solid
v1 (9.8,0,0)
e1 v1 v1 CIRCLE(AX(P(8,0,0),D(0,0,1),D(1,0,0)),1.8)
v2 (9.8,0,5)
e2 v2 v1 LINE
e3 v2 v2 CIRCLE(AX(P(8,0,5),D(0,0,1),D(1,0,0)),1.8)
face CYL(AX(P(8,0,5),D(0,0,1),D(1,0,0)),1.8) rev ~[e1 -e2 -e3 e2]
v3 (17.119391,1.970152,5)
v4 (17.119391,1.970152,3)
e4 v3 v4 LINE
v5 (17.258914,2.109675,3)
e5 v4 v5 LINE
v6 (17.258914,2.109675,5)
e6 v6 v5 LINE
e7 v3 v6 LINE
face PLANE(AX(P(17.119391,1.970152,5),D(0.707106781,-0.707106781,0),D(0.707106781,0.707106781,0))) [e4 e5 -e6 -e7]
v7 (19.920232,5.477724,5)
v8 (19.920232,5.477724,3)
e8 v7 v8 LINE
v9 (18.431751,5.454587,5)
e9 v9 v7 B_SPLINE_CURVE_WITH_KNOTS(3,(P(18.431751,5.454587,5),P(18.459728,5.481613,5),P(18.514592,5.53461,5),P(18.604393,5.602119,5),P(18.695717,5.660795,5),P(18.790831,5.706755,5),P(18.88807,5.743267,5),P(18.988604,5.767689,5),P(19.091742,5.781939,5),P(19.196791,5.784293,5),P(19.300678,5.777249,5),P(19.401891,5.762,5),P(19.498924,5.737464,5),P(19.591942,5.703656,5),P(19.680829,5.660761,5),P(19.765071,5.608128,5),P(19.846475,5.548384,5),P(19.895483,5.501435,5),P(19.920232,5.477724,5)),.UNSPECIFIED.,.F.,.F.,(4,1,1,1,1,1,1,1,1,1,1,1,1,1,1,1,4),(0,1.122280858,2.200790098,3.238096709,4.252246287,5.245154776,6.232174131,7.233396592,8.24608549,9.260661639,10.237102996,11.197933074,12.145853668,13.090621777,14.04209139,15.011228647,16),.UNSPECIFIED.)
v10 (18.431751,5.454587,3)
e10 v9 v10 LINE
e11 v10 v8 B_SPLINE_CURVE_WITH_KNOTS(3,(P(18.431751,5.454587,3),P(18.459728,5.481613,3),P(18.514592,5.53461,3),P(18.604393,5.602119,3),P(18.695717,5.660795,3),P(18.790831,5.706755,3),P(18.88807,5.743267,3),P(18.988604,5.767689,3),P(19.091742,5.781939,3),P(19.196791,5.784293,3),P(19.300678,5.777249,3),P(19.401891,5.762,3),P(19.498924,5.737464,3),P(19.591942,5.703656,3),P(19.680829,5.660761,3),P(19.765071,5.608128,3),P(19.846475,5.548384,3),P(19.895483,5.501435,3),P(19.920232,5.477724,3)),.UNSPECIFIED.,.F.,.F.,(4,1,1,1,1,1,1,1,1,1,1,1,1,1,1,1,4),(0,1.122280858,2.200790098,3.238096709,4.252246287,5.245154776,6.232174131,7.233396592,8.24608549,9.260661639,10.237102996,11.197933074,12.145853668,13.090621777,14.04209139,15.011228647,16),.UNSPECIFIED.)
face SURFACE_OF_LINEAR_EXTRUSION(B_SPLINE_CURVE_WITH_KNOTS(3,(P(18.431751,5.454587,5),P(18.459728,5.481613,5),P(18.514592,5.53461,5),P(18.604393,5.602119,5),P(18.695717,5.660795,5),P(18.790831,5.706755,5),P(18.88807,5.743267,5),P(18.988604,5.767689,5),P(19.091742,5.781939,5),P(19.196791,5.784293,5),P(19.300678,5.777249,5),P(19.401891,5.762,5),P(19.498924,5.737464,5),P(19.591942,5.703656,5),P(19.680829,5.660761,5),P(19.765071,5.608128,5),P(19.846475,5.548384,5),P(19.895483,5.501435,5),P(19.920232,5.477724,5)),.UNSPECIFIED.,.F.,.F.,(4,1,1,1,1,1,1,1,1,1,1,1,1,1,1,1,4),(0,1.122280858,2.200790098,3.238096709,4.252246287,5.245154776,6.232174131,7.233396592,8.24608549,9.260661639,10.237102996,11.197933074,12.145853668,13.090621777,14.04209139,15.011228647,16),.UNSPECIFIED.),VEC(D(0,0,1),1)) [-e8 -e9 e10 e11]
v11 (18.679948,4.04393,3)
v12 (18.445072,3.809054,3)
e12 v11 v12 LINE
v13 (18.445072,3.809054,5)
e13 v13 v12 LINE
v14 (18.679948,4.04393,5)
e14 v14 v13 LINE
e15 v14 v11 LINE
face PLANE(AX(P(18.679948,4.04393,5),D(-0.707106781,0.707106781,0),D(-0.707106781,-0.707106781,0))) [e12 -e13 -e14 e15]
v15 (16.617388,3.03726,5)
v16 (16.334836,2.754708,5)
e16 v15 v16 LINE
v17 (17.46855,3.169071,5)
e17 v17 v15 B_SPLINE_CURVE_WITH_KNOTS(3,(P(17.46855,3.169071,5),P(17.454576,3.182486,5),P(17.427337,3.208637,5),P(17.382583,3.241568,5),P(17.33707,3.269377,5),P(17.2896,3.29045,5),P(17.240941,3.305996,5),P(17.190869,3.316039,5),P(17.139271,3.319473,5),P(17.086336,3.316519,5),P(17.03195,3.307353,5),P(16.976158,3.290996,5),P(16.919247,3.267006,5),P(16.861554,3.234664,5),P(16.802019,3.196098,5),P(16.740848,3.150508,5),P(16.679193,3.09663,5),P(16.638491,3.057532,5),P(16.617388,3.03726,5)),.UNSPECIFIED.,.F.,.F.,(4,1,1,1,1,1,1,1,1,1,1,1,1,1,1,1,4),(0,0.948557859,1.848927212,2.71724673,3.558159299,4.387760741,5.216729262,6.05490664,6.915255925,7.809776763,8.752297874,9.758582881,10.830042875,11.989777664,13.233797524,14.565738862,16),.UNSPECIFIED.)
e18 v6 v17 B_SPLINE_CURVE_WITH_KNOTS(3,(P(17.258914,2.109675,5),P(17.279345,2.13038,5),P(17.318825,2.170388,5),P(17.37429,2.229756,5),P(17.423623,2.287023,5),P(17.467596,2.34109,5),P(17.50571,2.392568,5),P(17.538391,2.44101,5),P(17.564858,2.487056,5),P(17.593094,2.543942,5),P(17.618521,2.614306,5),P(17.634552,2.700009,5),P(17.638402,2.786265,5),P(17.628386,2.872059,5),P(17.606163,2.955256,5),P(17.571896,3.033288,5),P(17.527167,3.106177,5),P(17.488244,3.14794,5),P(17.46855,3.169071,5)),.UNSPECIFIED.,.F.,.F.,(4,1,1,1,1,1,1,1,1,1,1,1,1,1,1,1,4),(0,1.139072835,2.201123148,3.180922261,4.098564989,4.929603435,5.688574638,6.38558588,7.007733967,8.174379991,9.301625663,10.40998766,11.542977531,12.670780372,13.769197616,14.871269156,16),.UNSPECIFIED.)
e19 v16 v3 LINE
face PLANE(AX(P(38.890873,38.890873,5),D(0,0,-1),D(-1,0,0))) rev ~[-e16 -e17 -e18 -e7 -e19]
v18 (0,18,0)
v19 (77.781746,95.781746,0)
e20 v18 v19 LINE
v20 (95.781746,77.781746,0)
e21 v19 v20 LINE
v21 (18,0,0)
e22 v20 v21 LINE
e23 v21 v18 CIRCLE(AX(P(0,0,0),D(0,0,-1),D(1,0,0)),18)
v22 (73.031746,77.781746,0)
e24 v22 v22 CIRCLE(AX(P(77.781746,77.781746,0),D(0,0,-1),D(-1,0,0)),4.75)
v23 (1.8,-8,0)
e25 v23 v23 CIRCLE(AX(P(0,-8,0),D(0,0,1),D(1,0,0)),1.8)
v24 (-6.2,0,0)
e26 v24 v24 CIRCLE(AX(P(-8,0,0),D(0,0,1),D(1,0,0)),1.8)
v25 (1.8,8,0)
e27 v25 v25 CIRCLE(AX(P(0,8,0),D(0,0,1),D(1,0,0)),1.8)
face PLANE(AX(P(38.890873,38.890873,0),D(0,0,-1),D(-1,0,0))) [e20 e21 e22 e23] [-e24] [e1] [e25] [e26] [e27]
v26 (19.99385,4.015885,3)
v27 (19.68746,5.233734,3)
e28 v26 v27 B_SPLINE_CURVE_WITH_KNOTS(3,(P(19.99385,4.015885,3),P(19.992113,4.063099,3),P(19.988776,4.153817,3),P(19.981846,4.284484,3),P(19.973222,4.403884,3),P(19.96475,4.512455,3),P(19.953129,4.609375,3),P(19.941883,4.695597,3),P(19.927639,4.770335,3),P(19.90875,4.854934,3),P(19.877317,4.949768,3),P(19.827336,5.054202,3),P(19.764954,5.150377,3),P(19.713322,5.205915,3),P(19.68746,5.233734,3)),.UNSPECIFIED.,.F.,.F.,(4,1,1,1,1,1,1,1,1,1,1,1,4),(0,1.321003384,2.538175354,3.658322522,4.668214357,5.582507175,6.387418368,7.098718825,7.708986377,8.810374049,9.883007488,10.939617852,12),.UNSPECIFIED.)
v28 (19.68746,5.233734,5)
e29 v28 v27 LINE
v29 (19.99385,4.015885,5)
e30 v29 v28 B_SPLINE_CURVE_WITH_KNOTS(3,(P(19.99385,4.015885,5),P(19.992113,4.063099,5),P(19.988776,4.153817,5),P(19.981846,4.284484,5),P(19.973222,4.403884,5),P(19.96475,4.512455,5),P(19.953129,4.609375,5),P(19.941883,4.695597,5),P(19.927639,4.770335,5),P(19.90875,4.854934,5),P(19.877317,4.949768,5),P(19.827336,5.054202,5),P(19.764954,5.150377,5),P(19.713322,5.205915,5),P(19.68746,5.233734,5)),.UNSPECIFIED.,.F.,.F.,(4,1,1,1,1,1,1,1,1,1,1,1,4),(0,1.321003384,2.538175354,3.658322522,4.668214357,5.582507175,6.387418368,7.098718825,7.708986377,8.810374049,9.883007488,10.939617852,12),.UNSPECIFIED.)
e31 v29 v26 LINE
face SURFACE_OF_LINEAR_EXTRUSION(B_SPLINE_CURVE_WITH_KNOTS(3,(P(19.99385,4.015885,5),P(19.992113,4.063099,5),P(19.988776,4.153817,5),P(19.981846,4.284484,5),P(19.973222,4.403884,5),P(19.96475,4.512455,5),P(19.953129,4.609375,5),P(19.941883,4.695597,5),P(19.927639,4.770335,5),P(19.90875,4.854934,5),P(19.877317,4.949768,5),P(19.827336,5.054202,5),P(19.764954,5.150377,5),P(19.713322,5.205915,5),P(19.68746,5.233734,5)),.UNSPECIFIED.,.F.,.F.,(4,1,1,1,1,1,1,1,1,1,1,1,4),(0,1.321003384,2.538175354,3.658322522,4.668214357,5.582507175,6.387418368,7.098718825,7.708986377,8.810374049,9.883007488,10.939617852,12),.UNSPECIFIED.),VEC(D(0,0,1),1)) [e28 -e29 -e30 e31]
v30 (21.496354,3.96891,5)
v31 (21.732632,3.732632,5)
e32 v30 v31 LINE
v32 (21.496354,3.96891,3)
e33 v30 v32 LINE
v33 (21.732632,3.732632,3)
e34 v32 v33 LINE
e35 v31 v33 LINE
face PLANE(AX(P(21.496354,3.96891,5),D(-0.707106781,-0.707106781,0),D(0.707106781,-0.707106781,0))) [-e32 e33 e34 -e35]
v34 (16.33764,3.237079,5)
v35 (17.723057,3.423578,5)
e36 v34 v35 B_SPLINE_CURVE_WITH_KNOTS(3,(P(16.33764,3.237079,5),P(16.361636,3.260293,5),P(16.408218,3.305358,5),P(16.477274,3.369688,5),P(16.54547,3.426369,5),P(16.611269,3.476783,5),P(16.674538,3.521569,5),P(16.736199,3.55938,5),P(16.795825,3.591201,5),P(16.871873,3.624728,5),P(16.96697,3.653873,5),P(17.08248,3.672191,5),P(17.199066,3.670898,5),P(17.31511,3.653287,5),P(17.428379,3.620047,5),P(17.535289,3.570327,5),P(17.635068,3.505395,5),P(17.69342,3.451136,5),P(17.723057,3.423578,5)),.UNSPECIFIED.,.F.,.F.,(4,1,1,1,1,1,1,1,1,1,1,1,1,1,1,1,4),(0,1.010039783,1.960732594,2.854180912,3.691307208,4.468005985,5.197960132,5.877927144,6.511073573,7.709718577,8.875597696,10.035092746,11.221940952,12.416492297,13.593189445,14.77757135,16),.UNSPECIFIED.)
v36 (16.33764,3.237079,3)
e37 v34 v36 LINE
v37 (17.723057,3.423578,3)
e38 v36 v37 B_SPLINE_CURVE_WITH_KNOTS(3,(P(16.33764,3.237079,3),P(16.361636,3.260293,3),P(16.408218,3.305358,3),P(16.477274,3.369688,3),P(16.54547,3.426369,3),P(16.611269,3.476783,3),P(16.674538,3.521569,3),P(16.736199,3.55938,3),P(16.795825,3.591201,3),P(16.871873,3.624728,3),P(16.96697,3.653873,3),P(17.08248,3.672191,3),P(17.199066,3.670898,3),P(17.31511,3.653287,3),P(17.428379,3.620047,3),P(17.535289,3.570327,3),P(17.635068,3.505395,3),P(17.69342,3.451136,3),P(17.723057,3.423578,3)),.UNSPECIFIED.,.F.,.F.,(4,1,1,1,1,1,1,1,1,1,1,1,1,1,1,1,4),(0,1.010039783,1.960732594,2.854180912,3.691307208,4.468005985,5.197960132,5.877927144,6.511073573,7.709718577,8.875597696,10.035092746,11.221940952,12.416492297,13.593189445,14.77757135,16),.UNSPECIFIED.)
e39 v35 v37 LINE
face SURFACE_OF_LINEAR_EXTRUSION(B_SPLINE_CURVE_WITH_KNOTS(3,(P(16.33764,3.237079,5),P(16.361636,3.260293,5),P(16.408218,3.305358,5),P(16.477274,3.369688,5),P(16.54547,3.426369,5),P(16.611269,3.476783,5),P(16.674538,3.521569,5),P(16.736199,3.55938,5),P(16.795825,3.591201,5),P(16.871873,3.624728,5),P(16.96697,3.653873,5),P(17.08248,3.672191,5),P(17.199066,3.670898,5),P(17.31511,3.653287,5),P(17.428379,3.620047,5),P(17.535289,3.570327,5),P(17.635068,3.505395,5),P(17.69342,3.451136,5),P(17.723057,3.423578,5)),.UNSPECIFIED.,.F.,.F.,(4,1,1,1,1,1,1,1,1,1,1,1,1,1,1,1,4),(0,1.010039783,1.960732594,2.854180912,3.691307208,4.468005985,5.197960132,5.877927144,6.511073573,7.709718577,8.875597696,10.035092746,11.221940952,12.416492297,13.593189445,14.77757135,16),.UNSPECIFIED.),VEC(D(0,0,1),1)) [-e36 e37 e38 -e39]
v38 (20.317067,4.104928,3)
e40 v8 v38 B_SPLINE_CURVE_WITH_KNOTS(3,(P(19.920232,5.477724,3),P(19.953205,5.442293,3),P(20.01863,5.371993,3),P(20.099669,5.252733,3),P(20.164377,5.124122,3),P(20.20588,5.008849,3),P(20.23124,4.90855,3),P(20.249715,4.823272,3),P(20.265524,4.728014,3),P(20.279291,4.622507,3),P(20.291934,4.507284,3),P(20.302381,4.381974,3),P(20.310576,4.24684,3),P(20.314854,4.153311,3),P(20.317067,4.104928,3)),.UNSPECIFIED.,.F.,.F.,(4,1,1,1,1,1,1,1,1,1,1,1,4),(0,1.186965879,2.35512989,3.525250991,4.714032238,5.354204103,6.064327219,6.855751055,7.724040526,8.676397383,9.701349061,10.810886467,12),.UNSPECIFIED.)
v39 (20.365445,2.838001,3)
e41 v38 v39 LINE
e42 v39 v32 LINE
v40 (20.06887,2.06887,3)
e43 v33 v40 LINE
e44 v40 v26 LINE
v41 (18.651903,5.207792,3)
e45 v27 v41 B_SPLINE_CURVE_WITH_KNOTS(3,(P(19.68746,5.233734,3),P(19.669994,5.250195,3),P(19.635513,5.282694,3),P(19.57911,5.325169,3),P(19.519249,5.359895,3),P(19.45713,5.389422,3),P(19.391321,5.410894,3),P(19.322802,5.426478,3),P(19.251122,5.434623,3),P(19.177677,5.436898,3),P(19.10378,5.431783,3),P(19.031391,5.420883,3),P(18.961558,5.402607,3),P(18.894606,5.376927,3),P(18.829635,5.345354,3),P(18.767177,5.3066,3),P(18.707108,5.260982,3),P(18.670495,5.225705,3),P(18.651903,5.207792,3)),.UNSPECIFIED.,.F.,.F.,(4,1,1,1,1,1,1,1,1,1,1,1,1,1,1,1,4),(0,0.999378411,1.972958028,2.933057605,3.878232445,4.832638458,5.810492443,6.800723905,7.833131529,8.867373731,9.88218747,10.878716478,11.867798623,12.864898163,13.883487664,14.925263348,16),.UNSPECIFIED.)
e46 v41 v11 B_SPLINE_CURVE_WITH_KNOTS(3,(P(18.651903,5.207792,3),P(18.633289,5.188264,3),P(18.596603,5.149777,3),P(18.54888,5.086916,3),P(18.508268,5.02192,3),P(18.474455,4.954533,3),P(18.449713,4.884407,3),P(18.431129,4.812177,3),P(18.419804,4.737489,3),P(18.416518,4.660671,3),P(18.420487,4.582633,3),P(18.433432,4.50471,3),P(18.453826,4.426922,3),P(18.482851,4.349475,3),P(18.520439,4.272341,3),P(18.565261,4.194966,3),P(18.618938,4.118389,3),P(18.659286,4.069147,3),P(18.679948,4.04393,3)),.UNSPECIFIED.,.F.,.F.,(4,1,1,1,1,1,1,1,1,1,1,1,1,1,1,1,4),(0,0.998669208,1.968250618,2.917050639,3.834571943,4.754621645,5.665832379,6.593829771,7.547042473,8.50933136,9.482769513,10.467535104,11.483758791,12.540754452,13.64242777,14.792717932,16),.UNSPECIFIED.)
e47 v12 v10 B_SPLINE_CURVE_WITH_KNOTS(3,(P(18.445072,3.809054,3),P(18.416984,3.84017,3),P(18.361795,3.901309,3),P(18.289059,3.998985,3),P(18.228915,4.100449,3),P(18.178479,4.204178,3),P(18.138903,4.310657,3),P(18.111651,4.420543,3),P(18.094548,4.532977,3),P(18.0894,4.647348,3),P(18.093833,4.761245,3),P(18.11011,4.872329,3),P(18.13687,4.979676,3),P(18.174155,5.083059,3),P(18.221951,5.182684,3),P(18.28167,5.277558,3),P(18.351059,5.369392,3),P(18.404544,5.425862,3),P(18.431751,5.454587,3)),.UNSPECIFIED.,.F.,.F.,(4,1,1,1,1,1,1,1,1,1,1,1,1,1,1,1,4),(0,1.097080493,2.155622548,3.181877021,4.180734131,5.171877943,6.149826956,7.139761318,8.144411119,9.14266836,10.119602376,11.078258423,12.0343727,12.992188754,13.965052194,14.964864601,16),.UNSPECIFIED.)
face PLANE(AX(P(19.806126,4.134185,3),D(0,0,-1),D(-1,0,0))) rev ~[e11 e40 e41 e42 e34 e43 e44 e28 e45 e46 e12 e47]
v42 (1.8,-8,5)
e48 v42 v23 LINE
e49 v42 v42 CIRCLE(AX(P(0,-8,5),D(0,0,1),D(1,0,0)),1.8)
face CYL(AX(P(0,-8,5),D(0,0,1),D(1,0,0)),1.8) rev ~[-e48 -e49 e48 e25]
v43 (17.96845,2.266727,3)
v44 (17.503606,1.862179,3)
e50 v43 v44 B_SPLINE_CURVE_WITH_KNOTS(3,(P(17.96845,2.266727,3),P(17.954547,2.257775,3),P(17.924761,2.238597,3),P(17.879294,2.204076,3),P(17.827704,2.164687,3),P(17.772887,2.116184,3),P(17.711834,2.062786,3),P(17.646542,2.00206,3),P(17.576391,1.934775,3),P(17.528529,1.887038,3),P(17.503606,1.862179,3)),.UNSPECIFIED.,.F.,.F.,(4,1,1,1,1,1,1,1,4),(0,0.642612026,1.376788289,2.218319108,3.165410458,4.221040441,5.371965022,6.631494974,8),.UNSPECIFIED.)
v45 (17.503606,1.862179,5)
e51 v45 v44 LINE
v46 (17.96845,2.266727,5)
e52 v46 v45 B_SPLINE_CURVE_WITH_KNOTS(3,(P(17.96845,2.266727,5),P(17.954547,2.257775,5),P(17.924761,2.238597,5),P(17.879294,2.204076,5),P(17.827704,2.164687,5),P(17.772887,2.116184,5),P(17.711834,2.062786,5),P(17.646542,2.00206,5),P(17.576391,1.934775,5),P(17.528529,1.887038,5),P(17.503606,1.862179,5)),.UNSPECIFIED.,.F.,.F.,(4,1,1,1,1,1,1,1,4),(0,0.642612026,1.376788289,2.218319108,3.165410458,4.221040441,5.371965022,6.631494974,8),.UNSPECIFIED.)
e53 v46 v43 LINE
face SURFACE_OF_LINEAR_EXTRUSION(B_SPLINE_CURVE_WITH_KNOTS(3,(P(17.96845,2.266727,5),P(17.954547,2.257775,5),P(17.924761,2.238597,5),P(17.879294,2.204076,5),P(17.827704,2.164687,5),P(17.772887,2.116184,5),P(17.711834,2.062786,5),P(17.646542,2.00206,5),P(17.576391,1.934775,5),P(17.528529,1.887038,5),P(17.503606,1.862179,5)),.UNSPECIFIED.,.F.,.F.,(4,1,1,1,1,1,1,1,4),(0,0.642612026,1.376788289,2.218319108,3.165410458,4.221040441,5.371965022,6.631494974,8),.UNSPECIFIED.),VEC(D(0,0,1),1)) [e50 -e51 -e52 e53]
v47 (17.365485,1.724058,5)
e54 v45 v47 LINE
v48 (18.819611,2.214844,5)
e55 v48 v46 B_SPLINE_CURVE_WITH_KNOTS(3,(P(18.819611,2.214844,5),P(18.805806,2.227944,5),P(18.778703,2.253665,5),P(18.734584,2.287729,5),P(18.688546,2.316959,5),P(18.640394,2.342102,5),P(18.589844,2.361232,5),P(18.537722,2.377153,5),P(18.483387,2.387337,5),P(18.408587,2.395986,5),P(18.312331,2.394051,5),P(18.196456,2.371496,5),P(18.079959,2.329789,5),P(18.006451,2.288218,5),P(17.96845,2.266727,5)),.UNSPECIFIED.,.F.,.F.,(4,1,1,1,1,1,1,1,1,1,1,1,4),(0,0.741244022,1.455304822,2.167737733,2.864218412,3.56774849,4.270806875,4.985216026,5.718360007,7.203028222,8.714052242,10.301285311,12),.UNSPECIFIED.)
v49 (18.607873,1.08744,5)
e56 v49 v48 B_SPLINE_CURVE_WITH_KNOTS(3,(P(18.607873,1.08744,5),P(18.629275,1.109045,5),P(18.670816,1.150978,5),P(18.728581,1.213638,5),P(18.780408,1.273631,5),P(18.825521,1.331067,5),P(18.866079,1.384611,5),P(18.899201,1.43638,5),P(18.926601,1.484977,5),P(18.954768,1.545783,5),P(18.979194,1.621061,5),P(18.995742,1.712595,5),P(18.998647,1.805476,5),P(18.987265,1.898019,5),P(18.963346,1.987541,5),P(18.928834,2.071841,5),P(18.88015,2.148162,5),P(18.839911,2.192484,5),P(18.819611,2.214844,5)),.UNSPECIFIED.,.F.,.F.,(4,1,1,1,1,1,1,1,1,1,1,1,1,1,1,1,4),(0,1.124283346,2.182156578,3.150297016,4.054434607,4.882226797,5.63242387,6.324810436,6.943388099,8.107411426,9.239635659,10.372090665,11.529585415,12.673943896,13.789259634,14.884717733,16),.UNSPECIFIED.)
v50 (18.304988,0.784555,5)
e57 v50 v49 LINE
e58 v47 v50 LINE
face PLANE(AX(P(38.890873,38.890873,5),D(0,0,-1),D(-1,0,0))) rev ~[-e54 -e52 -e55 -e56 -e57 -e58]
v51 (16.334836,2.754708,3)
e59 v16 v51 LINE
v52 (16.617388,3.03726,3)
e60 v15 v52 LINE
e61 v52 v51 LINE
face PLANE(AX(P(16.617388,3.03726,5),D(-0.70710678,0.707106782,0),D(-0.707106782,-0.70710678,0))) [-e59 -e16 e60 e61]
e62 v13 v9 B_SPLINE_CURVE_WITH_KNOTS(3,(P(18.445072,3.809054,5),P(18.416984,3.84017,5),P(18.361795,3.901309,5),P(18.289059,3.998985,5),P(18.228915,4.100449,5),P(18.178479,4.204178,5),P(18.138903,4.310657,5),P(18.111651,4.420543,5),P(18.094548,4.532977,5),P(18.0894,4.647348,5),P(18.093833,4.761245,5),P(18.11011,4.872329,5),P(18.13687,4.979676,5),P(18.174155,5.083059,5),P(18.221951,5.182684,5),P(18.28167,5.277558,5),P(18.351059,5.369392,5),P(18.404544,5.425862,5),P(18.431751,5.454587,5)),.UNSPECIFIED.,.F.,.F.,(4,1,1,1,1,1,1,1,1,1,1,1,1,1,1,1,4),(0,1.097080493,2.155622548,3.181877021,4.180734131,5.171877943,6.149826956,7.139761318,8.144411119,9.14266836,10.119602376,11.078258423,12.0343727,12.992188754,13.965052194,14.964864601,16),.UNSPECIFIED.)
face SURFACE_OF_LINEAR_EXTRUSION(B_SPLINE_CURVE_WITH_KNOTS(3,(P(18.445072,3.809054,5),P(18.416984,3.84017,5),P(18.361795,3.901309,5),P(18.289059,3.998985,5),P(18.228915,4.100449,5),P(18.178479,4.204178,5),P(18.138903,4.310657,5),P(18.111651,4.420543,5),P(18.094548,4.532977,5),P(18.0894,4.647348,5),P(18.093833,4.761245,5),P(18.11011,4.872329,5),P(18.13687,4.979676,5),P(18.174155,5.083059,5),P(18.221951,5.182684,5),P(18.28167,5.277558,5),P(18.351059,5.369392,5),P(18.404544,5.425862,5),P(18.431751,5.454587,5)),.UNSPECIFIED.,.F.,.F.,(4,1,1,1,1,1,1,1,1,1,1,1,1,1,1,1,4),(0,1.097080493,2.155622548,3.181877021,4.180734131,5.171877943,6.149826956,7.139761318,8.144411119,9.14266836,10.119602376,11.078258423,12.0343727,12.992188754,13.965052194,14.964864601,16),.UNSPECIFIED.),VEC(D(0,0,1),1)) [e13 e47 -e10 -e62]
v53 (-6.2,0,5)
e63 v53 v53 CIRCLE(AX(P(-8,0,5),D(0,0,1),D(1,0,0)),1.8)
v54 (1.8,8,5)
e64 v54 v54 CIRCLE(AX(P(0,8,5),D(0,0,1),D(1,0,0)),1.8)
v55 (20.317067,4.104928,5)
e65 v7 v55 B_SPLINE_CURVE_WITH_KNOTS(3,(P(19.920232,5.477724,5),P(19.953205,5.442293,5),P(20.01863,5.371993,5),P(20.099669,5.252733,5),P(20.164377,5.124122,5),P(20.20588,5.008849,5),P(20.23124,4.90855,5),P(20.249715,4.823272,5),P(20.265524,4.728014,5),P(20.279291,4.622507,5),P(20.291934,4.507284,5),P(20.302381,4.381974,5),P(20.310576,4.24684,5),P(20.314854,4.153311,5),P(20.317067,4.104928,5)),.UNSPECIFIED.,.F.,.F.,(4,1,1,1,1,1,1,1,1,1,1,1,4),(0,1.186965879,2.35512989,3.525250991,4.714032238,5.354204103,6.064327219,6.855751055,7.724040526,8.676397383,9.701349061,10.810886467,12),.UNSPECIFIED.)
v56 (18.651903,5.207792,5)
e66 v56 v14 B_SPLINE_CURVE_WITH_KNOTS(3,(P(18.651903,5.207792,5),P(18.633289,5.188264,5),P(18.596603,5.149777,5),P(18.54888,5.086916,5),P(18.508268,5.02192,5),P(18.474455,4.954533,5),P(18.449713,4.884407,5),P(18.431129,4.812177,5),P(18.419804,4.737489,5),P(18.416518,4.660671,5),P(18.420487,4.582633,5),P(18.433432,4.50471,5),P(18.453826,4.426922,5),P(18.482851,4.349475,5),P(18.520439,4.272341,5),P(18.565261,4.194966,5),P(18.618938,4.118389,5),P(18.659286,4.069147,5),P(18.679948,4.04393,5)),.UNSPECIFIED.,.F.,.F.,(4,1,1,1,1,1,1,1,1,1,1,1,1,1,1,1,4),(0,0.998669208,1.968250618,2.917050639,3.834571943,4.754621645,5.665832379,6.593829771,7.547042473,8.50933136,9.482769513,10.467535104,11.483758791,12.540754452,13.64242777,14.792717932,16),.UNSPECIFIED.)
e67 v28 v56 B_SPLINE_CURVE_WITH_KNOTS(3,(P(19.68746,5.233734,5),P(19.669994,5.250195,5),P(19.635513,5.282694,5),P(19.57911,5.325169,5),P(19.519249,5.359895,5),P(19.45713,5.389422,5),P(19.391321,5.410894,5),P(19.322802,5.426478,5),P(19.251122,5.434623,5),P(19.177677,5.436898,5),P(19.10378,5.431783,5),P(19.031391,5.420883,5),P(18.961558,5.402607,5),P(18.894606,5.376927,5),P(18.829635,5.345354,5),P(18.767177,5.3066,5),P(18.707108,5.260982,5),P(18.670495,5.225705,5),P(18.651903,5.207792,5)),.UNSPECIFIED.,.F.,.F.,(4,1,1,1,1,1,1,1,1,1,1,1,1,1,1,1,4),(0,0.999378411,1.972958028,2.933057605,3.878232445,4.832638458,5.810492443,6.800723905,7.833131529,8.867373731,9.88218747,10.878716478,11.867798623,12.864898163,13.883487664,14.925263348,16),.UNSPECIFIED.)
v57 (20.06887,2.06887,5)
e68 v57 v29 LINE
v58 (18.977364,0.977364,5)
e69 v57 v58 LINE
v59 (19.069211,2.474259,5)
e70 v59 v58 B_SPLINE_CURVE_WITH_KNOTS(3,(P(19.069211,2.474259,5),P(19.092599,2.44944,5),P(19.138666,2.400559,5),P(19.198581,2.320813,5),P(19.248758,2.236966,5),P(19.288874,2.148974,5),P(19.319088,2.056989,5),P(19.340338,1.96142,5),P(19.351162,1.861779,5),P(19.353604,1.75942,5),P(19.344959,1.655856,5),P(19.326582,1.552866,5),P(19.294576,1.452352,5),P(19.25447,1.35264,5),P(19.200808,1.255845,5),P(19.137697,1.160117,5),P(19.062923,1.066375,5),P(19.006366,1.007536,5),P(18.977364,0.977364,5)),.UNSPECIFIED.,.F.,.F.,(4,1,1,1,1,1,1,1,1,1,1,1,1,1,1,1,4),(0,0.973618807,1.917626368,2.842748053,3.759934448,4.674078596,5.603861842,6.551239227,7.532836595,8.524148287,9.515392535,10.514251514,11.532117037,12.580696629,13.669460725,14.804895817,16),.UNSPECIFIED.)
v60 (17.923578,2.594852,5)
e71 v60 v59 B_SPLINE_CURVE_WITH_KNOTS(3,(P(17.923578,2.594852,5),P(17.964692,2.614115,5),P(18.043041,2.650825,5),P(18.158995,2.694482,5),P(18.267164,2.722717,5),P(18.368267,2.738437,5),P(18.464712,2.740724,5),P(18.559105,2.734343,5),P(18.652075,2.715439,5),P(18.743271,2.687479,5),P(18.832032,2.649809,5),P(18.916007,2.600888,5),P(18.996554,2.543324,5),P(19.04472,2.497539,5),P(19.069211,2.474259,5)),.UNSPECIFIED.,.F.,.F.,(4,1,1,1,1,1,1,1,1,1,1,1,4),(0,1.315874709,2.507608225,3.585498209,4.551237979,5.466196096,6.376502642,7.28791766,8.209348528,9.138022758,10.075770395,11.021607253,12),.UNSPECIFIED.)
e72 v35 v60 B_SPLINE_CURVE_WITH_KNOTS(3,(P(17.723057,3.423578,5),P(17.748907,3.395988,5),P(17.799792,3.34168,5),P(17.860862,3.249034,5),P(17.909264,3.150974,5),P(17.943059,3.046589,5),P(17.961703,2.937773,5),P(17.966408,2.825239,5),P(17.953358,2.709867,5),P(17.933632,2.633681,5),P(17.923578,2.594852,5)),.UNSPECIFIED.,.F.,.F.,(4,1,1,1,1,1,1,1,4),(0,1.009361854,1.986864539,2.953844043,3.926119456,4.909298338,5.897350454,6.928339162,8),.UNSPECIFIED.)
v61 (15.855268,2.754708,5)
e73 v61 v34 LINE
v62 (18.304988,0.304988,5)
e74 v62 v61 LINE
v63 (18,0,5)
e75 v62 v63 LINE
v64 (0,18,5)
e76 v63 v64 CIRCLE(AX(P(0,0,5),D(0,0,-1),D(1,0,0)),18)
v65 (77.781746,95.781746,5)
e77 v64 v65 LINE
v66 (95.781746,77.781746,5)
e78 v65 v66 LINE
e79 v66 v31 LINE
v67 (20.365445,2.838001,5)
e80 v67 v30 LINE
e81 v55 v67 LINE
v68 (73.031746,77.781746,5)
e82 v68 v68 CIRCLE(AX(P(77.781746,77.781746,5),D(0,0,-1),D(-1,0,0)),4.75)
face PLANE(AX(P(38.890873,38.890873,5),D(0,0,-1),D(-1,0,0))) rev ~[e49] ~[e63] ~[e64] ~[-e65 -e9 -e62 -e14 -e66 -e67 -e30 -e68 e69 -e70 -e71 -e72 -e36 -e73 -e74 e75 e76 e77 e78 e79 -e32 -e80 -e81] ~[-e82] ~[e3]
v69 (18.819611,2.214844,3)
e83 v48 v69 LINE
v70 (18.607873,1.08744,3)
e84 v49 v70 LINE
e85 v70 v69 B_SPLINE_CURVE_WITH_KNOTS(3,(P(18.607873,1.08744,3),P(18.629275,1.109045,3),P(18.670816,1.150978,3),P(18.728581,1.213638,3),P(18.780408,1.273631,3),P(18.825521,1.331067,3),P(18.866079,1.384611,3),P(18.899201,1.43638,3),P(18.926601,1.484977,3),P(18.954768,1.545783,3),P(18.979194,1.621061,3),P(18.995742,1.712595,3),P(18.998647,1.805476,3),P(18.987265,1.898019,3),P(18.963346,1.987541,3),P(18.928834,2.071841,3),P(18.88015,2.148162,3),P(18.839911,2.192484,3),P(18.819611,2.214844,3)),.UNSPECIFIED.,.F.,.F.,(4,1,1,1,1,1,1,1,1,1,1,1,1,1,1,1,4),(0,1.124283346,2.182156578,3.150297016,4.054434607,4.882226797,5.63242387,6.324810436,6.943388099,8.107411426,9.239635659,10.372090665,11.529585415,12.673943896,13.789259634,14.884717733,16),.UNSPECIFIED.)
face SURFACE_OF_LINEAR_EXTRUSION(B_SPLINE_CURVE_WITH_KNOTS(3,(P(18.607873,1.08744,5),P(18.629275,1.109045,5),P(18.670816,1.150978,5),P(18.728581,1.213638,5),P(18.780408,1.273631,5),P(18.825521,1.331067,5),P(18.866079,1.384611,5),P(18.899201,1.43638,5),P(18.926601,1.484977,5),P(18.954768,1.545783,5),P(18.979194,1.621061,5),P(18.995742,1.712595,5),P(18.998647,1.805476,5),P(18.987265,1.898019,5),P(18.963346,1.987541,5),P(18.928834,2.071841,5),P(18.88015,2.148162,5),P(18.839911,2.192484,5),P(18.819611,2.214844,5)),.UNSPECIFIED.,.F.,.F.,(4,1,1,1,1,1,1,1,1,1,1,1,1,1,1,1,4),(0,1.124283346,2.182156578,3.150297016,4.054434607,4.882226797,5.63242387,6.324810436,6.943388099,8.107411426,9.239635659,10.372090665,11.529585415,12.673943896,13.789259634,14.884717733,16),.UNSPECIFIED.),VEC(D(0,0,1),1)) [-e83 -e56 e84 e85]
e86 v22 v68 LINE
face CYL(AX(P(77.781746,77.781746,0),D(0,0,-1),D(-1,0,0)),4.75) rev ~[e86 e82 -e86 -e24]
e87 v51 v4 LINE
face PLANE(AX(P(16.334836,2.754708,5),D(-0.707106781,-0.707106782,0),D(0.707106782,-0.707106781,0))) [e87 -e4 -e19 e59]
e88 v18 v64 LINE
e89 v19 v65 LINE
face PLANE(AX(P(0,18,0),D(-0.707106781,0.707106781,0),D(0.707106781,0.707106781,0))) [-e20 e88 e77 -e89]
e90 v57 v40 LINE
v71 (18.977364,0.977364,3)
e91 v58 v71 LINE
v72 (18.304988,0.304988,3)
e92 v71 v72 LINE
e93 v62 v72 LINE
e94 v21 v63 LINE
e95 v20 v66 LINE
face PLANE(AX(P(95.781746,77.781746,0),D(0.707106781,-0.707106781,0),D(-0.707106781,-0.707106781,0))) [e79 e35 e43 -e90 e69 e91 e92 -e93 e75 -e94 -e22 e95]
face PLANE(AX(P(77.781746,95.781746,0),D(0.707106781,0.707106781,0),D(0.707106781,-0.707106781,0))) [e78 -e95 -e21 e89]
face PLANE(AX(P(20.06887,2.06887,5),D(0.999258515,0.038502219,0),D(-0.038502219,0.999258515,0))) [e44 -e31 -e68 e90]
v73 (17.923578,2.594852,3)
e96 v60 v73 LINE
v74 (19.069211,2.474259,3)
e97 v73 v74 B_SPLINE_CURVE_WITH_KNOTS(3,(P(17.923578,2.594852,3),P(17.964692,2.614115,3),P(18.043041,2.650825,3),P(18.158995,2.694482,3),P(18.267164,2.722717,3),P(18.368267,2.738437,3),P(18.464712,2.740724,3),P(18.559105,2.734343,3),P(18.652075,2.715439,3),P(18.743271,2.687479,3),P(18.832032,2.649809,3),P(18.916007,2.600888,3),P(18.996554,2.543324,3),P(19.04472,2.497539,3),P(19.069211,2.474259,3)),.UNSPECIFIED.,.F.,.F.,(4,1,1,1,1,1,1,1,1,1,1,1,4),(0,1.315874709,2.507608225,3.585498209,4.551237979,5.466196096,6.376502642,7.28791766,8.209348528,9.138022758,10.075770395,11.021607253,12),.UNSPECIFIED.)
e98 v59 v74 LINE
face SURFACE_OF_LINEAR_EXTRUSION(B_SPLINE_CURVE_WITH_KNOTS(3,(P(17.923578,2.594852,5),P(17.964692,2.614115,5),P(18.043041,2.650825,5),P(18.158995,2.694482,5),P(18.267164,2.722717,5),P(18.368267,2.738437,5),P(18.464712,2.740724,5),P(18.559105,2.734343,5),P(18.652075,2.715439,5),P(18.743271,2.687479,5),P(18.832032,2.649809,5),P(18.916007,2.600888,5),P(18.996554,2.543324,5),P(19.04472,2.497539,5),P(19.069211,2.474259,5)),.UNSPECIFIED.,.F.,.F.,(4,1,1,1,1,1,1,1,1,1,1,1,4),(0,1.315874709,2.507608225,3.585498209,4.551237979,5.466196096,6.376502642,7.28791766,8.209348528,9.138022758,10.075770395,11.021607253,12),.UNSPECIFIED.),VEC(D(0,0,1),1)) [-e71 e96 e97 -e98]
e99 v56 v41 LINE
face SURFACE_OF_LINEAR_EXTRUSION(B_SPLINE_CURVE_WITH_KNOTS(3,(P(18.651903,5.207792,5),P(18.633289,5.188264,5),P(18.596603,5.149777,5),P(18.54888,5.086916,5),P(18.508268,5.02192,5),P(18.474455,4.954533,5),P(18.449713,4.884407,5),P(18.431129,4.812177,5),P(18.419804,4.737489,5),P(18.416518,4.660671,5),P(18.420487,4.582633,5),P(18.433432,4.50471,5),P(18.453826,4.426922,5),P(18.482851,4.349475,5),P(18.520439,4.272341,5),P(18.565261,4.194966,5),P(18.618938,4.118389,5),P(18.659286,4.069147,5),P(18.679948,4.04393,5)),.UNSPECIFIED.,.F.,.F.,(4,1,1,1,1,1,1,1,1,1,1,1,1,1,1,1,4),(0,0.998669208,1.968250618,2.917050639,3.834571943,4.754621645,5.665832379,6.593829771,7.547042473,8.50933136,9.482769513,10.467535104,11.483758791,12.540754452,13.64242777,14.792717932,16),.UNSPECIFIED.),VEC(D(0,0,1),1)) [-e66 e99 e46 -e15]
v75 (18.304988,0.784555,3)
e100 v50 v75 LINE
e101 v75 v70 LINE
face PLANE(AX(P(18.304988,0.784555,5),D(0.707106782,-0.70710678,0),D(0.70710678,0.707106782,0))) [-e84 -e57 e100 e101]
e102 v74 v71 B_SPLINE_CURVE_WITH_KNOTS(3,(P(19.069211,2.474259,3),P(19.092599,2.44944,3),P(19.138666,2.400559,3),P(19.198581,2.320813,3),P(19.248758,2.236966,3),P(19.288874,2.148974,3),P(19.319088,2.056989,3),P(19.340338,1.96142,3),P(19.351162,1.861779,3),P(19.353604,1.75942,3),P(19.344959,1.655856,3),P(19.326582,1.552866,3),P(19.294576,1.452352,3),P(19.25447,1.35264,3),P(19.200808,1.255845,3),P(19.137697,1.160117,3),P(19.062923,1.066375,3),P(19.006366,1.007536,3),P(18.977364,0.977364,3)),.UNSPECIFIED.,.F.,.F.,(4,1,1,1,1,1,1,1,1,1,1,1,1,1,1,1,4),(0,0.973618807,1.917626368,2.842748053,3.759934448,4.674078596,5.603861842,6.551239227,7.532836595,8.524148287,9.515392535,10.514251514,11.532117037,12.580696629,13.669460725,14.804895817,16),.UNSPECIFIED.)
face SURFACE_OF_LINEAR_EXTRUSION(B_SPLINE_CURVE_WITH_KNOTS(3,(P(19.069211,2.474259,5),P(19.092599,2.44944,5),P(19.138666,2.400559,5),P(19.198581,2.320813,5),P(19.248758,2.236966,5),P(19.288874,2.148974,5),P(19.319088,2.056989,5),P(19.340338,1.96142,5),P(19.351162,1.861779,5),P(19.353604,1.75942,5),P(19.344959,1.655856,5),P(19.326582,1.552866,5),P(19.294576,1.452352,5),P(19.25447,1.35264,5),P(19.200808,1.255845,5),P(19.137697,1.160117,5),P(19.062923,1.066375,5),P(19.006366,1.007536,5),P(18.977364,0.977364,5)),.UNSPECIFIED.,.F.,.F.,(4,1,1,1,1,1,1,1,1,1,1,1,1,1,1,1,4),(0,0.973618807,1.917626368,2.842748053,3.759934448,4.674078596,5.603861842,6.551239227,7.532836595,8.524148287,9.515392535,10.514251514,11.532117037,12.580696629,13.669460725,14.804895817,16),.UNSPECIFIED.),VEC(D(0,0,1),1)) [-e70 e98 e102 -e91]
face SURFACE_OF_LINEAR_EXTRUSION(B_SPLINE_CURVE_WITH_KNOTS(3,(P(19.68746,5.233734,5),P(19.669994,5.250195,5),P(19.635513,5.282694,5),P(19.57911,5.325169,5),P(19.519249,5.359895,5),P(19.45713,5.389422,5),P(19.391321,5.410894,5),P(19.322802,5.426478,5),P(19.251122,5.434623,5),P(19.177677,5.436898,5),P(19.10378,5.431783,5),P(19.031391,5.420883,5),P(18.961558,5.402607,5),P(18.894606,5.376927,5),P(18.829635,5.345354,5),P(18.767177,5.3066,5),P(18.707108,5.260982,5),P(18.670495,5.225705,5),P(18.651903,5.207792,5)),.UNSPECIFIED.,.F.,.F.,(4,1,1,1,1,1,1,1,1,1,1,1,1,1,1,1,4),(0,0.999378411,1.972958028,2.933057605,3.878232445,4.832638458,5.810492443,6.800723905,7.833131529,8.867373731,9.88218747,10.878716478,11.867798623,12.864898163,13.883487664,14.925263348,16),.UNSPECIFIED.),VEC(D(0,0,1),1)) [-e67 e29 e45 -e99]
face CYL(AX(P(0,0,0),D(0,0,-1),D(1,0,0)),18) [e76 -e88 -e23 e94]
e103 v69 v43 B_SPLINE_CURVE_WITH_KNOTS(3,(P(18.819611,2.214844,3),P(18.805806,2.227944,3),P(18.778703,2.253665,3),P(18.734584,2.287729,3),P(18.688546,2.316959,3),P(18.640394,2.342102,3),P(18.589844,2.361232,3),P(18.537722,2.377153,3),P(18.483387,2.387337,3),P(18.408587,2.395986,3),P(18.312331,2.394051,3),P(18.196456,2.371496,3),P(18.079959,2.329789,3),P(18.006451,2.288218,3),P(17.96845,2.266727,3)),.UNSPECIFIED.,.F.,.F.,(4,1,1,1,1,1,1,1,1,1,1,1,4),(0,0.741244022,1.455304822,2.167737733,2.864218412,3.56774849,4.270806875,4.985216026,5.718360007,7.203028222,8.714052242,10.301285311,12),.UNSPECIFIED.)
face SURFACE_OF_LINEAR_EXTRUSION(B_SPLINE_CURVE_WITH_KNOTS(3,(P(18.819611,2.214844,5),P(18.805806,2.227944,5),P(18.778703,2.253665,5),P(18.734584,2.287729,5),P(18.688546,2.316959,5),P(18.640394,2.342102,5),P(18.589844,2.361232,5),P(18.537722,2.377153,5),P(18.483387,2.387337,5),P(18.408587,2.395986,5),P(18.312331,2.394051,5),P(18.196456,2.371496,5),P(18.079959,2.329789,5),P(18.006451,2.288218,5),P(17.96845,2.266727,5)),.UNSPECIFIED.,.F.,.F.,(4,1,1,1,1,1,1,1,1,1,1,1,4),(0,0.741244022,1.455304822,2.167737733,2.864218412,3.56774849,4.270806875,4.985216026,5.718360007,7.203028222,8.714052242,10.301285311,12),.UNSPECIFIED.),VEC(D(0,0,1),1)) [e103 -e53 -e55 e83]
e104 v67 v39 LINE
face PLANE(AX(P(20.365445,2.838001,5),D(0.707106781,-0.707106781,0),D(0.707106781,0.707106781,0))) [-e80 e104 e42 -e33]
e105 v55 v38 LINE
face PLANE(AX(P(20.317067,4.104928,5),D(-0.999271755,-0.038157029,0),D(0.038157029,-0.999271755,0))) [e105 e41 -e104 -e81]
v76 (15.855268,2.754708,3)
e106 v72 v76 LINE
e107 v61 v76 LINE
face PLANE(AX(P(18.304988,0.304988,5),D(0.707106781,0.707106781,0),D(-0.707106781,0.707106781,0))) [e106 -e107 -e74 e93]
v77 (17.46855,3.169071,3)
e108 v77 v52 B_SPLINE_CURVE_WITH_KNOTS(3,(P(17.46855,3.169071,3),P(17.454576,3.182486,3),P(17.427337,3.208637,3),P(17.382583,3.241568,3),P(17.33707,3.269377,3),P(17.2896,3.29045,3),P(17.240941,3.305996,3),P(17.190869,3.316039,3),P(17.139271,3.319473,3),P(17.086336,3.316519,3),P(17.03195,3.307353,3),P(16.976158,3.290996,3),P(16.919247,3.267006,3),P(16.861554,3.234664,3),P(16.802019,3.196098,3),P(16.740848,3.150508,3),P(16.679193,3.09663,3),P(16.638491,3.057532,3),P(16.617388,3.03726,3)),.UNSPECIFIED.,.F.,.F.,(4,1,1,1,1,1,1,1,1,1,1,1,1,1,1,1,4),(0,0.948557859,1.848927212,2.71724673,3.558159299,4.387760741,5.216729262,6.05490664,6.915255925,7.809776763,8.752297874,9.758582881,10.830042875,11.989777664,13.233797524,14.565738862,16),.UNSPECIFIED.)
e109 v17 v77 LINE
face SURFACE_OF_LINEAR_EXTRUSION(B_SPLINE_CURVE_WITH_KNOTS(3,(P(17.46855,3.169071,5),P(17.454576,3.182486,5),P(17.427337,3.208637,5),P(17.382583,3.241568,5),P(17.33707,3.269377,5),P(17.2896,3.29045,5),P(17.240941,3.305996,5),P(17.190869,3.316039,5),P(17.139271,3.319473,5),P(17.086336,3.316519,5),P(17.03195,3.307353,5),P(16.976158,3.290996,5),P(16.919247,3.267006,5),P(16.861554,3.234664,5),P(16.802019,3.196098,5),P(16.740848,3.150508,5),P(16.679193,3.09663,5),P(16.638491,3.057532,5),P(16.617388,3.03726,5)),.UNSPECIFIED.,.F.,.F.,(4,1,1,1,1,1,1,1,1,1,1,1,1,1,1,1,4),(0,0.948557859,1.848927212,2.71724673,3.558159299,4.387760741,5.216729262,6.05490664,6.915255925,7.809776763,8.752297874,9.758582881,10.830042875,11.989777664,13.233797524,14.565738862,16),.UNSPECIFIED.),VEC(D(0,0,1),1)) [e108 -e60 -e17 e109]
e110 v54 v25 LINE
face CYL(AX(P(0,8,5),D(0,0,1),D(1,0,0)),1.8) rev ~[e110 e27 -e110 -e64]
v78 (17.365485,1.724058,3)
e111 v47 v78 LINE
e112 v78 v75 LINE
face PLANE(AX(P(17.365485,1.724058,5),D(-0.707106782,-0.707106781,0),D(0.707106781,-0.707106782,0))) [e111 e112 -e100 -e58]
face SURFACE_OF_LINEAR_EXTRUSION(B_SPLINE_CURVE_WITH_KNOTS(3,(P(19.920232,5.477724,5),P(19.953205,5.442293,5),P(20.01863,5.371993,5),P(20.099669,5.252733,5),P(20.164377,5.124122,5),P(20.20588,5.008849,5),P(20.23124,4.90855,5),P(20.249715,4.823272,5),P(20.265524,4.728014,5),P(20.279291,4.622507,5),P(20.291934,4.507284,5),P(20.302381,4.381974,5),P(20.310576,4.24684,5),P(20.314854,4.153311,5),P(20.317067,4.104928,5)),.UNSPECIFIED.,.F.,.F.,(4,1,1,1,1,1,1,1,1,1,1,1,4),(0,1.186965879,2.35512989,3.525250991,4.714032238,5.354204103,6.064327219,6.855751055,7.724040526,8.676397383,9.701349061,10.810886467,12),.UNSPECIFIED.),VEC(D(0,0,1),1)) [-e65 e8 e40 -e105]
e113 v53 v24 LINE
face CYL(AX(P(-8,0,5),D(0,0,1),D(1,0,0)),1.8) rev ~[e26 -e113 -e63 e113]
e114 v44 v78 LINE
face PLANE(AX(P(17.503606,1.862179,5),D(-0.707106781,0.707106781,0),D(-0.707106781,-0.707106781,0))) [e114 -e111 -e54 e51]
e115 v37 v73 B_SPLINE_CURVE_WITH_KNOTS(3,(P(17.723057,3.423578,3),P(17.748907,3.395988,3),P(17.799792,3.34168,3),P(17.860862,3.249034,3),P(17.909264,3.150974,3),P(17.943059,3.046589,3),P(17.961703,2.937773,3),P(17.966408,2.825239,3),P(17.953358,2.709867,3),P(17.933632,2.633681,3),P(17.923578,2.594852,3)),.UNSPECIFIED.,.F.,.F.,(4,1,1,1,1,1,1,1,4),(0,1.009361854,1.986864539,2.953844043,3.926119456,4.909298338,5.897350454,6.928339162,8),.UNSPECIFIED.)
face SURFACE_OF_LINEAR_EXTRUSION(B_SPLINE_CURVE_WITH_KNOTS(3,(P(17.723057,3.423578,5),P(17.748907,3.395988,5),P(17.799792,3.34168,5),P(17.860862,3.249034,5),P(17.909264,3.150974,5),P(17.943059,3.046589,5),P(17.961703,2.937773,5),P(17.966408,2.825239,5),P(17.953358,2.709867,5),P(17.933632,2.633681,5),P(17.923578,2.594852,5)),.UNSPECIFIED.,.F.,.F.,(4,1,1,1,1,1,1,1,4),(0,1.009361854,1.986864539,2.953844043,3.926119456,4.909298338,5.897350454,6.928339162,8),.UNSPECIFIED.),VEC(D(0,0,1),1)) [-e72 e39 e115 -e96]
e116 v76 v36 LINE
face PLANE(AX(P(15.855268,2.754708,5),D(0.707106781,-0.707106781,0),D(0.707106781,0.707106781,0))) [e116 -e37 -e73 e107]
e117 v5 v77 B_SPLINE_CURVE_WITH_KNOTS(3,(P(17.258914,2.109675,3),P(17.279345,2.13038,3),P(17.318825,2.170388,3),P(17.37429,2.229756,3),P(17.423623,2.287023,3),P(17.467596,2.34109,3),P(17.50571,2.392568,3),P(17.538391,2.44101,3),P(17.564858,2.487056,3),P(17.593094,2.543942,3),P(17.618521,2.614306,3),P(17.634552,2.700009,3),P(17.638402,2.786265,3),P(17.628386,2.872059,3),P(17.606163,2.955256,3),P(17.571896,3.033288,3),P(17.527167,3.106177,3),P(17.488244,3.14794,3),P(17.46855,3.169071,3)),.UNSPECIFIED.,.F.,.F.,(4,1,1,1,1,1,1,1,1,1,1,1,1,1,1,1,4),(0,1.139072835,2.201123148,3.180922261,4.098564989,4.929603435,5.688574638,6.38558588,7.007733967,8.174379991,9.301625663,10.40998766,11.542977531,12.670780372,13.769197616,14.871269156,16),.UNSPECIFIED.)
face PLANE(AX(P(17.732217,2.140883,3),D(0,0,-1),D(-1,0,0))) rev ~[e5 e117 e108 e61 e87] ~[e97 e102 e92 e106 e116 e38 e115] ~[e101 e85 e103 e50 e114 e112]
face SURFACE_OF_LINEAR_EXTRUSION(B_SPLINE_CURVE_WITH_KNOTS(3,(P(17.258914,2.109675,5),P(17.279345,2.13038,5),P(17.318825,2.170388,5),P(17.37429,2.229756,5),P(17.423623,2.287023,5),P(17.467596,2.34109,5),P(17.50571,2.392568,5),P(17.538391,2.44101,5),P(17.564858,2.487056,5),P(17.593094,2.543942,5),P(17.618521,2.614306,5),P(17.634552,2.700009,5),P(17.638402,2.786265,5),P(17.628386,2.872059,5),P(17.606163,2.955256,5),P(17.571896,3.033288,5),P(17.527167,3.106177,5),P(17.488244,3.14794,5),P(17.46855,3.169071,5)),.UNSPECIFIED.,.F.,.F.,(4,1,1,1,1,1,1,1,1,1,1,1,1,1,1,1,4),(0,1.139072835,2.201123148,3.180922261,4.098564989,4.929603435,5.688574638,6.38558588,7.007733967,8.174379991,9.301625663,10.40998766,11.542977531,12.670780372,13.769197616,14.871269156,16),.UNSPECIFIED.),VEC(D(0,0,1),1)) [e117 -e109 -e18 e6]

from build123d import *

# Parameters (mm, degrees)
EXTRUDE_1_DEPTH     = 5
SKETCH_3_R          = 1.8
CUT_EXTRUDE_1_DEPTH = 5
SKETCH_17_R         = 4.75
CUT_EXTRUDE_3_DEPTH = 10
CUT_EXTRUDE_4_DEPTH = 2


with BuildPart() as part:
    # ｽｹｯﾁ2 → ﾎﾞｽ - 押し出し1 (new body)
    with BuildSketch(Plane.XY):
        with BuildLine():
            Line((0, 18), (77.781745931, 95.781745931))
            Line((77.781745931, 95.781745931), (95.781745931, 77.781745931))
            Line((95.781745931, 77.781745931), (18, 0))
            ThreePointArc((18, 0), (-12.727922061, -12.727922061), (0, 18))
        make_face()
    extrude(amount=EXTRUDE_1_DEPTH)

    # ｽｹｯﾁ3 → ｶｯﾄ - 押し出し1 (cut)
    with BuildSketch(Plane.XY.offset(5)):
        with Locations((8, 0)):
            Circle(SKETCH_3_R)
        with Locations((-8, 0)):
            Circle(SKETCH_3_R)
        with Locations((0, 8)):
            Circle(SKETCH_3_R)
        with Locations((0, -8)):
            Circle(SKETCH_3_R)
    extrude(amount=-CUT_EXTRUDE_1_DEPTH, mode=Mode.SUBTRACT)

    # ｽｹｯﾁ17 → ｶｯﾄ - 押し出し3 (cut)
    with BuildSketch(Plane(origin=(0, 0, 0), x_dir=(-1, 0, 0), z_dir=(0, 0, -1))):
        with Locations((-77.781745931, 77.781745931)):
            Circle(SKETCH_17_R)
    extrude(amount=-CUT_EXTRUDE_3_DEPTH, mode=Mode.SUBTRACT)

    # ｽｹｯﾁ19 → ｶｯﾄ - 押し出し4 (cut)
    # profile 1 of 2: a face of its own
    with BuildSketch(Plane.XY.offset(5)):
        with BuildLine():
            Line((15.855268429, 2.754707532), (16.337640224, 3.237079327))
            add(Edge.make_bspline(
                [(16.337640224, 3.237079327), (16.361636244, 3.260293397), (16.408218349, 3.305357545), (16.477274438, 3.369688106), (16.545469784, 3.426369048), (16.611269245, 3.476782595), (16.67453774, 3.521568948), (16.7361987, 3.559379809), (16.795825225, 3.591200716), (16.871872864, 3.624727999), (16.966969698, 3.653873017), (17.082479968, 3.672190677), (17.199066441, 3.670898236), (17.315110423, 3.653286605), (17.428379125, 3.620047404), (17.535289182, 3.570326931), (17.635068442, 3.505394709), (17.693419935, 3.451135959), (17.723056891, 3.423577724)],
                knots=[0, 0, 0, 0, 1.010039783, 1.960732594, 2.854180912, 3.691307208, 4.468005985, 5.197960132, 5.877927144, 6.511073573, 7.709718577, 8.875597696, 10.035092746, 11.221940952, 12.416492297, 13.593189445, 14.77757135, 16, 16, 16, 16], degree=3))
            add(Edge.make_bspline(
                [(17.723056891, 3.423577724), (17.748907222, 3.395988049), (17.799791951, 3.341679529), (17.86086192, 3.249034468), (17.909264362, 3.150974335), (17.943058942, 3.046588677), (17.961703364, 2.937773062), (17.966408423, 2.825238629), (17.953357726, 2.709867118), (17.933631581, 2.633681441), (17.923577724, 2.594851763)],
                knots=[0, 0, 0, 0, 1.009361854, 1.986864539, 2.953844043, 3.926119456, 4.909298338, 5.897350454, 6.928339162, 8, 8, 8, 8], degree=3))
            add(Edge.make_bspline(
                [(17.923577724, 2.594851763), (17.964691882, 2.614115345), (18.043041439, 2.65082516), (18.158995384, 2.694482079), (18.267164276, 2.722716641), (18.368266928, 2.738437175), (18.464712365, 2.740724318), (18.559105414, 2.734343145), (18.652074716, 2.715438953), (18.743271203, 2.687478622), (18.832032435, 2.649809029), (18.91600667, 2.600887503), (18.996554039, 2.543324189), (19.044720198, 2.497538819), (19.069210737, 2.474258814)],
                knots=[0, 0, 0, 0, 1.315874709, 2.507608225, 3.585498209, 4.551237979, 5.466196096, 6.376502642, 7.28791766, 8.209348528, 9.138022758, 10.075770395, 11.021607253, 12, 12, 12, 12], degree=3))
            add(Edge.make_bspline(
                [(19.069210737, 2.474258814), (19.092599473, 2.449440468), (19.138665609, 2.400558591), (19.198580808, 2.320813485), (19.248757659, 2.23696628), (19.288874035, 2.148973724), (19.319088088, 2.056988851), (19.340337711, 1.961420498), (19.35116162, 1.861779131), (19.353603595, 1.759420479), (19.344959283, 1.655856432), (19.326582306, 1.552865819), (19.294576433, 1.45235159), (19.254469783, 1.352640057), (19.20080809, 1.255845024), (19.137696991, 1.160117323), (19.062923216, 1.06637518), (19.006366272, 1.0075364), (18.977363782, 0.977363782)],
                knots=[0, 0, 0, 0, 0.973618807, 1.917626368, 2.842748053, 3.759934448, 4.674078596, 5.603861842, 6.551239227, 7.532836595, 8.524148287, 9.515392535, 10.514251514, 11.532117037, 12.580696629, 13.669460725, 14.804895817, 16, 16, 16, 16], degree=3))
            Line((18.977363782, 0.977363782), (18.304987981, 0.304987981))
            Line((18.304987981, 0.304987981), (15.855268429, 2.754707532))
        make_face()
        with BuildLine():
            Line((16.334835737, 2.754707532), (17.119391026, 1.970152244))
            Line((17.119391026, 1.970152244), (17.258914263, 2.109675481))
            add(Edge.make_bspline(
                [(17.258914263, 2.109675481), (17.279344867, 2.130379618), (17.318824587, 2.170387907), (17.374290472, 2.229756369), (17.423622628, 2.287023454), (17.46759557, 2.341089529), (17.505709798, 2.392568092), (17.538391302, 2.441009596), (17.564858174, 2.487055997), (17.59309413, 2.543941625), (17.61852077, 2.614305549), (17.634551731, 2.700009307), (17.638401776, 2.786264897), (17.628385667, 2.872059035), (17.606163371, 2.955255632), (17.571896096, 3.033288034), (17.527167166, 3.106177436), (17.488243893, 3.147939793), (17.468549679, 3.169070513)],
                knots=[0, 0, 0, 0, 1.139072835, 2.201123148, 3.180922261, 4.098564989, 4.929603435, 5.688574638, 6.38558588, 7.007733967, 8.174379991, 9.301625663, 10.40998766, 11.542977531, 12.670780372, 13.769197616, 14.871269156, 16, 16, 16, 16], degree=3))
            add(Edge.make_bspline(
                [(17.468549679, 3.169070513), (17.454575514, 3.182486455), (17.427337097, 3.208636784), (17.382583156, 3.241568237), (17.337070195, 3.26937696), (17.289599855, 3.290450484), (17.240941161, 3.305995855), (17.190869145, 3.316038947), (17.139270655, 3.319472649), (17.086335591, 3.316518886), (17.031949874, 3.307352849), (16.976158216, 3.290996189), (16.919247017, 3.26700645), (16.861553932, 3.234663866), (16.802018981, 3.196097992), (16.740847938, 3.150508239), (16.679193241, 3.096629559), (16.63849147, 3.057531664), (16.617387821, 3.037259615)],
                knots=[0, 0, 0, 0, 0.948557859, 1.848927212, 2.71724673, 3.558159299, 4.387760741, 5.216729262, 6.05490664, 6.915255925, 7.809776763, 8.752297874, 9.758582881, 10.830042875, 11.989777664, 13.233797524, 14.565738862, 16, 16, 16, 16], degree=3))
            Line((16.617387821, 3.037259615), (16.334835737, 2.754707532))
        make_face(mode=Mode.SUBTRACT)
        with BuildLine():
            Line((17.365484776, 1.724058494), (18.304987981, 0.784555288))
            Line((18.304987981, 0.784555288), (18.607872596, 1.087439904))
            add(Edge.make_bspline(
                [(18.607872596, 1.087439904), (18.629275206, 1.109044591), (18.670816198, 1.150977801), (18.728580676, 1.213637686), (18.78040811, 1.273630721), (18.825520515, 1.331067172), (18.866079219, 1.384610685), (18.899201172, 1.436380235), (18.926601353, 1.484976682), (18.954768318, 1.545783007), (18.979194131, 1.621060865), (18.995742258, 1.712595152), (18.998646701, 1.805475959), (18.987264732, 1.898018549), (18.963346012, 1.987540592), (18.928834252, 2.071841306), (18.880150283, 2.14816153), (18.83991129, 2.192483861), (18.819611378, 2.21484375)],
                knots=[0, 0, 0, 0, 1.124283346, 2.182156578, 3.150297016, 4.054434607, 4.882226797, 5.63242387, 6.324810436, 6.943388099, 8.107411426, 9.239635659, 10.372090665, 11.529585415, 12.673943896, 13.789259634, 14.884717733, 16, 16, 16, 16], degree=3))
            add(Edge.make_bspline(
                [(18.819611378, 2.21484375), (18.805806454, 2.227944224), (18.778702867, 2.253664746), (18.734584284, 2.287729298), (18.688545814, 2.316959056), (18.640393723, 2.34210168), (18.589844066, 2.361232353), (18.537722466, 2.377153327), (18.48338692, 2.387336794), (18.408586834, 2.395986172), (18.312331465, 2.394051135), (18.196455649, 2.371495813), (18.0799591, 2.329788664), (18.006450681, 2.288217522), (17.968449519, 2.266726763)],
                knots=[0, 0, 0, 0, 0.741244022, 1.455304822, 2.167737733, 2.864218412, 3.56774849, 4.270806875, 4.985216026, 5.718360007, 7.203028222, 8.714052242, 10.301285311, 12, 12, 12, 12], degree=3))
            add(Edge.make_bspline(
                [(17.968449519, 2.266726763), (17.954546976, 2.257775345), (17.924760951, 2.238597044), (17.879294179, 2.204076146), (17.827704, 2.164687202), (17.772886789, 2.116183819), (17.711833805, 2.062785945), (17.646541649, 2.002059991), (17.576390559, 1.934775072), (17.528528915, 1.887037845), (17.503605769, 1.862179487)],
                knots=[0, 0, 0, 0, 0.642612026, 1.376788289, 2.218319108, 3.165410458, 4.221040441, 5.371965022, 6.631494974, 8, 8, 8, 8], degree=3))
            Line((17.503605769, 1.862179487), (17.365484776, 1.724058494))
        make_face(mode=Mode.SUBTRACT)
    # profile 2 of 2: a face of its own
    with BuildSketch(Plane.XY.offset(5)):
        with BuildLine():
            Line((18.679947712, 4.043930084), (18.44507191, 3.809054282))
            add(Edge.make_bspline(
                [(18.44507191, 3.809054282), (18.416983932, 3.840170168), (18.361794655, 3.901308896), (18.289058706, 3.998984644), (18.228914661, 4.100448905), (18.178478634, 4.204177565), (18.138903344, 4.310656829), (18.111651343, 4.420543131), (18.094547862, 4.532976572), (18.08939992, 4.647347725), (18.093832951, 4.761245325), (18.110110402, 4.872329147), (18.13687007, 4.97967582), (18.174154567, 5.083059235), (18.22195057, 5.182683742), (18.281669605, 5.277557742), (18.351059086, 5.369391845), (18.40454396, 5.425861966), (18.431750596, 5.454587135)],
                knots=[0, 0, 0, 0, 1.097080493, 2.155622548, 3.181877021, 4.180734131, 5.171877943, 6.149826956, 7.139761318, 8.144411119, 9.14266836, 10.119602376, 11.078258423, 12.0343727, 12.992188754, 13.965052194, 14.964864601, 16, 16, 16, 16], degree=3))
            add(Edge.make_bspline(
                [(18.431750596, 5.454587135), (18.459728021, 5.481612676), (18.514591686, 5.534609697), (18.60439323, 5.60211944), (18.69571669, 5.660794713), (18.790830929, 5.706755278), (18.888070431, 5.743267195), (18.988603955, 5.767688853), (19.091741846, 5.781938676), (19.196790844, 5.784293399), (19.300677998, 5.777248543), (19.401891161, 5.761999775), (19.498923643, 5.737464105), (19.591941986, 5.703655765), (19.68082881, 5.660760647), (19.76507071, 5.608128396), (19.846475316, 5.54838448), (19.895482733, 5.501434536), (19.920232167, 5.477724154)],
                knots=[0, 0, 0, 0, 1.122280858, 2.200790098, 3.238096709, 4.252246287, 5.245154776, 6.232174131, 7.233396592, 8.24608549, 9.260661639, 10.237102996, 11.197933074, 12.145853668, 13.090621777, 14.04209139, 15.011228647, 16, 16, 16, 16], degree=3))
            add(Edge.make_bspline(
                [(19.920232167, 5.477724154), (19.953205475, 5.442293204), (20.018629785, 5.371992539), (20.09966903, 5.252732607), (20.164376509, 5.124122072), (20.205880126, 5.008848802), (20.231239822, 4.908550418), (20.249715247, 4.823271807), (20.265524198, 4.728013737), (20.27929129, 4.62250671), (20.291933535, 4.50728391), (20.302380902, 4.381974197), (20.310575865, 4.246840451), (20.314853989, 4.153311221), (20.317067103, 4.10492768)],
                knots=[0, 0, 0, 0, 1.186965879, 2.35512989, 3.525250991, 4.714032238, 5.354204103, 6.064327219, 6.855751055, 7.724040526, 8.676397383, 9.701349061, 10.810886467, 12, 12, 12, 12], degree=3))
            Line((20.317067103, 4.10492768), (20.365444507, 2.838000596))
            Line((20.365444507, 2.838000596), (21.496353962, 3.968910052))
            Line((21.496353962, 3.968910052), (21.732632007, 3.732632007))
            Line((21.732632007, 3.732632007), (20.068869987, 2.068869987))
            Line((20.068869987, 2.068869987), (19.993849955, 4.015885212))
            add(Edge.make_bspline(
                [(19.993849955, 4.015885212), (19.992113109, 4.063099402), (19.988775932, 4.153816727), (19.981845913, 4.284484443), (19.973222076, 4.403884114), (19.964749579, 4.512454961), (19.953128947, 4.609375237), (19.941882849, 4.695597448), (19.927639247, 4.770335397), (19.908750093, 4.854933545), (19.877317194, 4.949767602), (19.827335645, 5.054202323), (19.764954117, 5.150376664), (19.713321857, 5.205915084), (19.687459731, 5.233733769)],
                knots=[0, 0, 0, 0, 1.321003384, 2.538175354, 3.658322522, 4.668214357, 5.582507175, 6.387418368, 7.098718825, 7.708986377, 8.810374049, 9.883007488, 10.939617852, 12, 12, 12, 12], degree=3))
            add(Edge.make_bspline(
                [(19.687459731, 5.233733769), (19.669993805, 5.250195408), (19.635512833, 5.282693731), (19.579110355, 5.32516917), (19.519249107, 5.359894834), (19.457130299, 5.389422476), (19.391320896, 5.410894414), (19.322801968, 5.426477708), (19.251121754, 5.434623306), (19.177676874, 5.436898115), (19.103780198, 5.431783075), (19.031391478, 5.420882725), (18.961557848, 5.402606679), (18.894606417, 5.376927439), (18.829634922, 5.345354485), (18.767177019, 5.306599591), (18.707107661, 5.260982346), (18.670494509, 5.225705416), (18.65190284, 5.207792263)],
                knots=[0, 0, 0, 0, 0.999378411, 1.972958028, 2.933057605, 3.878232445, 4.832638458, 5.810492443, 6.800723905, 7.833131529, 8.867373731, 9.88218747, 10.878716478, 11.867798623, 12.864898163, 13.883487664, 14.925263348, 16, 16, 16, 16], degree=3))
            add(Edge.make_bspline(
                [(18.65190284, 5.207792263), (18.633288777, 5.188264155), (18.596602814, 5.149776725), (18.548879607, 5.08691605), (18.50826778, 5.021920064), (18.474454696, 4.954532973), (18.449713127, 4.884407267), (18.431128961, 4.812177099), (18.419803995, 4.73748939), (18.416517719, 4.660670549), (18.42048704, 4.582633329), (18.43343244, 4.504709893), (18.453826133, 4.426921553), (18.482851391, 4.349475495), (18.520438561, 4.272340617), (18.565261079, 4.194965979), (18.618937995, 4.118389312), (18.659286015, 4.069146624), (18.679947712, 4.043930084)],
                knots=[0, 0, 0, 0, 0.998669208, 1.968250618, 2.917050639, 3.834571943, 4.754621645, 5.665832379, 6.593829771, 7.547042473, 8.50933136, 9.482769513, 10.467535104, 11.483758791, 12.540754452, 13.64242777, 14.792717932, 16, 16, 16, 16], degree=3))
        make_face()
    extrude(amount=-CUT_EXTRUDE_4_DEPTH, mode=Mode.SUBTRACT)


solid = part.part
